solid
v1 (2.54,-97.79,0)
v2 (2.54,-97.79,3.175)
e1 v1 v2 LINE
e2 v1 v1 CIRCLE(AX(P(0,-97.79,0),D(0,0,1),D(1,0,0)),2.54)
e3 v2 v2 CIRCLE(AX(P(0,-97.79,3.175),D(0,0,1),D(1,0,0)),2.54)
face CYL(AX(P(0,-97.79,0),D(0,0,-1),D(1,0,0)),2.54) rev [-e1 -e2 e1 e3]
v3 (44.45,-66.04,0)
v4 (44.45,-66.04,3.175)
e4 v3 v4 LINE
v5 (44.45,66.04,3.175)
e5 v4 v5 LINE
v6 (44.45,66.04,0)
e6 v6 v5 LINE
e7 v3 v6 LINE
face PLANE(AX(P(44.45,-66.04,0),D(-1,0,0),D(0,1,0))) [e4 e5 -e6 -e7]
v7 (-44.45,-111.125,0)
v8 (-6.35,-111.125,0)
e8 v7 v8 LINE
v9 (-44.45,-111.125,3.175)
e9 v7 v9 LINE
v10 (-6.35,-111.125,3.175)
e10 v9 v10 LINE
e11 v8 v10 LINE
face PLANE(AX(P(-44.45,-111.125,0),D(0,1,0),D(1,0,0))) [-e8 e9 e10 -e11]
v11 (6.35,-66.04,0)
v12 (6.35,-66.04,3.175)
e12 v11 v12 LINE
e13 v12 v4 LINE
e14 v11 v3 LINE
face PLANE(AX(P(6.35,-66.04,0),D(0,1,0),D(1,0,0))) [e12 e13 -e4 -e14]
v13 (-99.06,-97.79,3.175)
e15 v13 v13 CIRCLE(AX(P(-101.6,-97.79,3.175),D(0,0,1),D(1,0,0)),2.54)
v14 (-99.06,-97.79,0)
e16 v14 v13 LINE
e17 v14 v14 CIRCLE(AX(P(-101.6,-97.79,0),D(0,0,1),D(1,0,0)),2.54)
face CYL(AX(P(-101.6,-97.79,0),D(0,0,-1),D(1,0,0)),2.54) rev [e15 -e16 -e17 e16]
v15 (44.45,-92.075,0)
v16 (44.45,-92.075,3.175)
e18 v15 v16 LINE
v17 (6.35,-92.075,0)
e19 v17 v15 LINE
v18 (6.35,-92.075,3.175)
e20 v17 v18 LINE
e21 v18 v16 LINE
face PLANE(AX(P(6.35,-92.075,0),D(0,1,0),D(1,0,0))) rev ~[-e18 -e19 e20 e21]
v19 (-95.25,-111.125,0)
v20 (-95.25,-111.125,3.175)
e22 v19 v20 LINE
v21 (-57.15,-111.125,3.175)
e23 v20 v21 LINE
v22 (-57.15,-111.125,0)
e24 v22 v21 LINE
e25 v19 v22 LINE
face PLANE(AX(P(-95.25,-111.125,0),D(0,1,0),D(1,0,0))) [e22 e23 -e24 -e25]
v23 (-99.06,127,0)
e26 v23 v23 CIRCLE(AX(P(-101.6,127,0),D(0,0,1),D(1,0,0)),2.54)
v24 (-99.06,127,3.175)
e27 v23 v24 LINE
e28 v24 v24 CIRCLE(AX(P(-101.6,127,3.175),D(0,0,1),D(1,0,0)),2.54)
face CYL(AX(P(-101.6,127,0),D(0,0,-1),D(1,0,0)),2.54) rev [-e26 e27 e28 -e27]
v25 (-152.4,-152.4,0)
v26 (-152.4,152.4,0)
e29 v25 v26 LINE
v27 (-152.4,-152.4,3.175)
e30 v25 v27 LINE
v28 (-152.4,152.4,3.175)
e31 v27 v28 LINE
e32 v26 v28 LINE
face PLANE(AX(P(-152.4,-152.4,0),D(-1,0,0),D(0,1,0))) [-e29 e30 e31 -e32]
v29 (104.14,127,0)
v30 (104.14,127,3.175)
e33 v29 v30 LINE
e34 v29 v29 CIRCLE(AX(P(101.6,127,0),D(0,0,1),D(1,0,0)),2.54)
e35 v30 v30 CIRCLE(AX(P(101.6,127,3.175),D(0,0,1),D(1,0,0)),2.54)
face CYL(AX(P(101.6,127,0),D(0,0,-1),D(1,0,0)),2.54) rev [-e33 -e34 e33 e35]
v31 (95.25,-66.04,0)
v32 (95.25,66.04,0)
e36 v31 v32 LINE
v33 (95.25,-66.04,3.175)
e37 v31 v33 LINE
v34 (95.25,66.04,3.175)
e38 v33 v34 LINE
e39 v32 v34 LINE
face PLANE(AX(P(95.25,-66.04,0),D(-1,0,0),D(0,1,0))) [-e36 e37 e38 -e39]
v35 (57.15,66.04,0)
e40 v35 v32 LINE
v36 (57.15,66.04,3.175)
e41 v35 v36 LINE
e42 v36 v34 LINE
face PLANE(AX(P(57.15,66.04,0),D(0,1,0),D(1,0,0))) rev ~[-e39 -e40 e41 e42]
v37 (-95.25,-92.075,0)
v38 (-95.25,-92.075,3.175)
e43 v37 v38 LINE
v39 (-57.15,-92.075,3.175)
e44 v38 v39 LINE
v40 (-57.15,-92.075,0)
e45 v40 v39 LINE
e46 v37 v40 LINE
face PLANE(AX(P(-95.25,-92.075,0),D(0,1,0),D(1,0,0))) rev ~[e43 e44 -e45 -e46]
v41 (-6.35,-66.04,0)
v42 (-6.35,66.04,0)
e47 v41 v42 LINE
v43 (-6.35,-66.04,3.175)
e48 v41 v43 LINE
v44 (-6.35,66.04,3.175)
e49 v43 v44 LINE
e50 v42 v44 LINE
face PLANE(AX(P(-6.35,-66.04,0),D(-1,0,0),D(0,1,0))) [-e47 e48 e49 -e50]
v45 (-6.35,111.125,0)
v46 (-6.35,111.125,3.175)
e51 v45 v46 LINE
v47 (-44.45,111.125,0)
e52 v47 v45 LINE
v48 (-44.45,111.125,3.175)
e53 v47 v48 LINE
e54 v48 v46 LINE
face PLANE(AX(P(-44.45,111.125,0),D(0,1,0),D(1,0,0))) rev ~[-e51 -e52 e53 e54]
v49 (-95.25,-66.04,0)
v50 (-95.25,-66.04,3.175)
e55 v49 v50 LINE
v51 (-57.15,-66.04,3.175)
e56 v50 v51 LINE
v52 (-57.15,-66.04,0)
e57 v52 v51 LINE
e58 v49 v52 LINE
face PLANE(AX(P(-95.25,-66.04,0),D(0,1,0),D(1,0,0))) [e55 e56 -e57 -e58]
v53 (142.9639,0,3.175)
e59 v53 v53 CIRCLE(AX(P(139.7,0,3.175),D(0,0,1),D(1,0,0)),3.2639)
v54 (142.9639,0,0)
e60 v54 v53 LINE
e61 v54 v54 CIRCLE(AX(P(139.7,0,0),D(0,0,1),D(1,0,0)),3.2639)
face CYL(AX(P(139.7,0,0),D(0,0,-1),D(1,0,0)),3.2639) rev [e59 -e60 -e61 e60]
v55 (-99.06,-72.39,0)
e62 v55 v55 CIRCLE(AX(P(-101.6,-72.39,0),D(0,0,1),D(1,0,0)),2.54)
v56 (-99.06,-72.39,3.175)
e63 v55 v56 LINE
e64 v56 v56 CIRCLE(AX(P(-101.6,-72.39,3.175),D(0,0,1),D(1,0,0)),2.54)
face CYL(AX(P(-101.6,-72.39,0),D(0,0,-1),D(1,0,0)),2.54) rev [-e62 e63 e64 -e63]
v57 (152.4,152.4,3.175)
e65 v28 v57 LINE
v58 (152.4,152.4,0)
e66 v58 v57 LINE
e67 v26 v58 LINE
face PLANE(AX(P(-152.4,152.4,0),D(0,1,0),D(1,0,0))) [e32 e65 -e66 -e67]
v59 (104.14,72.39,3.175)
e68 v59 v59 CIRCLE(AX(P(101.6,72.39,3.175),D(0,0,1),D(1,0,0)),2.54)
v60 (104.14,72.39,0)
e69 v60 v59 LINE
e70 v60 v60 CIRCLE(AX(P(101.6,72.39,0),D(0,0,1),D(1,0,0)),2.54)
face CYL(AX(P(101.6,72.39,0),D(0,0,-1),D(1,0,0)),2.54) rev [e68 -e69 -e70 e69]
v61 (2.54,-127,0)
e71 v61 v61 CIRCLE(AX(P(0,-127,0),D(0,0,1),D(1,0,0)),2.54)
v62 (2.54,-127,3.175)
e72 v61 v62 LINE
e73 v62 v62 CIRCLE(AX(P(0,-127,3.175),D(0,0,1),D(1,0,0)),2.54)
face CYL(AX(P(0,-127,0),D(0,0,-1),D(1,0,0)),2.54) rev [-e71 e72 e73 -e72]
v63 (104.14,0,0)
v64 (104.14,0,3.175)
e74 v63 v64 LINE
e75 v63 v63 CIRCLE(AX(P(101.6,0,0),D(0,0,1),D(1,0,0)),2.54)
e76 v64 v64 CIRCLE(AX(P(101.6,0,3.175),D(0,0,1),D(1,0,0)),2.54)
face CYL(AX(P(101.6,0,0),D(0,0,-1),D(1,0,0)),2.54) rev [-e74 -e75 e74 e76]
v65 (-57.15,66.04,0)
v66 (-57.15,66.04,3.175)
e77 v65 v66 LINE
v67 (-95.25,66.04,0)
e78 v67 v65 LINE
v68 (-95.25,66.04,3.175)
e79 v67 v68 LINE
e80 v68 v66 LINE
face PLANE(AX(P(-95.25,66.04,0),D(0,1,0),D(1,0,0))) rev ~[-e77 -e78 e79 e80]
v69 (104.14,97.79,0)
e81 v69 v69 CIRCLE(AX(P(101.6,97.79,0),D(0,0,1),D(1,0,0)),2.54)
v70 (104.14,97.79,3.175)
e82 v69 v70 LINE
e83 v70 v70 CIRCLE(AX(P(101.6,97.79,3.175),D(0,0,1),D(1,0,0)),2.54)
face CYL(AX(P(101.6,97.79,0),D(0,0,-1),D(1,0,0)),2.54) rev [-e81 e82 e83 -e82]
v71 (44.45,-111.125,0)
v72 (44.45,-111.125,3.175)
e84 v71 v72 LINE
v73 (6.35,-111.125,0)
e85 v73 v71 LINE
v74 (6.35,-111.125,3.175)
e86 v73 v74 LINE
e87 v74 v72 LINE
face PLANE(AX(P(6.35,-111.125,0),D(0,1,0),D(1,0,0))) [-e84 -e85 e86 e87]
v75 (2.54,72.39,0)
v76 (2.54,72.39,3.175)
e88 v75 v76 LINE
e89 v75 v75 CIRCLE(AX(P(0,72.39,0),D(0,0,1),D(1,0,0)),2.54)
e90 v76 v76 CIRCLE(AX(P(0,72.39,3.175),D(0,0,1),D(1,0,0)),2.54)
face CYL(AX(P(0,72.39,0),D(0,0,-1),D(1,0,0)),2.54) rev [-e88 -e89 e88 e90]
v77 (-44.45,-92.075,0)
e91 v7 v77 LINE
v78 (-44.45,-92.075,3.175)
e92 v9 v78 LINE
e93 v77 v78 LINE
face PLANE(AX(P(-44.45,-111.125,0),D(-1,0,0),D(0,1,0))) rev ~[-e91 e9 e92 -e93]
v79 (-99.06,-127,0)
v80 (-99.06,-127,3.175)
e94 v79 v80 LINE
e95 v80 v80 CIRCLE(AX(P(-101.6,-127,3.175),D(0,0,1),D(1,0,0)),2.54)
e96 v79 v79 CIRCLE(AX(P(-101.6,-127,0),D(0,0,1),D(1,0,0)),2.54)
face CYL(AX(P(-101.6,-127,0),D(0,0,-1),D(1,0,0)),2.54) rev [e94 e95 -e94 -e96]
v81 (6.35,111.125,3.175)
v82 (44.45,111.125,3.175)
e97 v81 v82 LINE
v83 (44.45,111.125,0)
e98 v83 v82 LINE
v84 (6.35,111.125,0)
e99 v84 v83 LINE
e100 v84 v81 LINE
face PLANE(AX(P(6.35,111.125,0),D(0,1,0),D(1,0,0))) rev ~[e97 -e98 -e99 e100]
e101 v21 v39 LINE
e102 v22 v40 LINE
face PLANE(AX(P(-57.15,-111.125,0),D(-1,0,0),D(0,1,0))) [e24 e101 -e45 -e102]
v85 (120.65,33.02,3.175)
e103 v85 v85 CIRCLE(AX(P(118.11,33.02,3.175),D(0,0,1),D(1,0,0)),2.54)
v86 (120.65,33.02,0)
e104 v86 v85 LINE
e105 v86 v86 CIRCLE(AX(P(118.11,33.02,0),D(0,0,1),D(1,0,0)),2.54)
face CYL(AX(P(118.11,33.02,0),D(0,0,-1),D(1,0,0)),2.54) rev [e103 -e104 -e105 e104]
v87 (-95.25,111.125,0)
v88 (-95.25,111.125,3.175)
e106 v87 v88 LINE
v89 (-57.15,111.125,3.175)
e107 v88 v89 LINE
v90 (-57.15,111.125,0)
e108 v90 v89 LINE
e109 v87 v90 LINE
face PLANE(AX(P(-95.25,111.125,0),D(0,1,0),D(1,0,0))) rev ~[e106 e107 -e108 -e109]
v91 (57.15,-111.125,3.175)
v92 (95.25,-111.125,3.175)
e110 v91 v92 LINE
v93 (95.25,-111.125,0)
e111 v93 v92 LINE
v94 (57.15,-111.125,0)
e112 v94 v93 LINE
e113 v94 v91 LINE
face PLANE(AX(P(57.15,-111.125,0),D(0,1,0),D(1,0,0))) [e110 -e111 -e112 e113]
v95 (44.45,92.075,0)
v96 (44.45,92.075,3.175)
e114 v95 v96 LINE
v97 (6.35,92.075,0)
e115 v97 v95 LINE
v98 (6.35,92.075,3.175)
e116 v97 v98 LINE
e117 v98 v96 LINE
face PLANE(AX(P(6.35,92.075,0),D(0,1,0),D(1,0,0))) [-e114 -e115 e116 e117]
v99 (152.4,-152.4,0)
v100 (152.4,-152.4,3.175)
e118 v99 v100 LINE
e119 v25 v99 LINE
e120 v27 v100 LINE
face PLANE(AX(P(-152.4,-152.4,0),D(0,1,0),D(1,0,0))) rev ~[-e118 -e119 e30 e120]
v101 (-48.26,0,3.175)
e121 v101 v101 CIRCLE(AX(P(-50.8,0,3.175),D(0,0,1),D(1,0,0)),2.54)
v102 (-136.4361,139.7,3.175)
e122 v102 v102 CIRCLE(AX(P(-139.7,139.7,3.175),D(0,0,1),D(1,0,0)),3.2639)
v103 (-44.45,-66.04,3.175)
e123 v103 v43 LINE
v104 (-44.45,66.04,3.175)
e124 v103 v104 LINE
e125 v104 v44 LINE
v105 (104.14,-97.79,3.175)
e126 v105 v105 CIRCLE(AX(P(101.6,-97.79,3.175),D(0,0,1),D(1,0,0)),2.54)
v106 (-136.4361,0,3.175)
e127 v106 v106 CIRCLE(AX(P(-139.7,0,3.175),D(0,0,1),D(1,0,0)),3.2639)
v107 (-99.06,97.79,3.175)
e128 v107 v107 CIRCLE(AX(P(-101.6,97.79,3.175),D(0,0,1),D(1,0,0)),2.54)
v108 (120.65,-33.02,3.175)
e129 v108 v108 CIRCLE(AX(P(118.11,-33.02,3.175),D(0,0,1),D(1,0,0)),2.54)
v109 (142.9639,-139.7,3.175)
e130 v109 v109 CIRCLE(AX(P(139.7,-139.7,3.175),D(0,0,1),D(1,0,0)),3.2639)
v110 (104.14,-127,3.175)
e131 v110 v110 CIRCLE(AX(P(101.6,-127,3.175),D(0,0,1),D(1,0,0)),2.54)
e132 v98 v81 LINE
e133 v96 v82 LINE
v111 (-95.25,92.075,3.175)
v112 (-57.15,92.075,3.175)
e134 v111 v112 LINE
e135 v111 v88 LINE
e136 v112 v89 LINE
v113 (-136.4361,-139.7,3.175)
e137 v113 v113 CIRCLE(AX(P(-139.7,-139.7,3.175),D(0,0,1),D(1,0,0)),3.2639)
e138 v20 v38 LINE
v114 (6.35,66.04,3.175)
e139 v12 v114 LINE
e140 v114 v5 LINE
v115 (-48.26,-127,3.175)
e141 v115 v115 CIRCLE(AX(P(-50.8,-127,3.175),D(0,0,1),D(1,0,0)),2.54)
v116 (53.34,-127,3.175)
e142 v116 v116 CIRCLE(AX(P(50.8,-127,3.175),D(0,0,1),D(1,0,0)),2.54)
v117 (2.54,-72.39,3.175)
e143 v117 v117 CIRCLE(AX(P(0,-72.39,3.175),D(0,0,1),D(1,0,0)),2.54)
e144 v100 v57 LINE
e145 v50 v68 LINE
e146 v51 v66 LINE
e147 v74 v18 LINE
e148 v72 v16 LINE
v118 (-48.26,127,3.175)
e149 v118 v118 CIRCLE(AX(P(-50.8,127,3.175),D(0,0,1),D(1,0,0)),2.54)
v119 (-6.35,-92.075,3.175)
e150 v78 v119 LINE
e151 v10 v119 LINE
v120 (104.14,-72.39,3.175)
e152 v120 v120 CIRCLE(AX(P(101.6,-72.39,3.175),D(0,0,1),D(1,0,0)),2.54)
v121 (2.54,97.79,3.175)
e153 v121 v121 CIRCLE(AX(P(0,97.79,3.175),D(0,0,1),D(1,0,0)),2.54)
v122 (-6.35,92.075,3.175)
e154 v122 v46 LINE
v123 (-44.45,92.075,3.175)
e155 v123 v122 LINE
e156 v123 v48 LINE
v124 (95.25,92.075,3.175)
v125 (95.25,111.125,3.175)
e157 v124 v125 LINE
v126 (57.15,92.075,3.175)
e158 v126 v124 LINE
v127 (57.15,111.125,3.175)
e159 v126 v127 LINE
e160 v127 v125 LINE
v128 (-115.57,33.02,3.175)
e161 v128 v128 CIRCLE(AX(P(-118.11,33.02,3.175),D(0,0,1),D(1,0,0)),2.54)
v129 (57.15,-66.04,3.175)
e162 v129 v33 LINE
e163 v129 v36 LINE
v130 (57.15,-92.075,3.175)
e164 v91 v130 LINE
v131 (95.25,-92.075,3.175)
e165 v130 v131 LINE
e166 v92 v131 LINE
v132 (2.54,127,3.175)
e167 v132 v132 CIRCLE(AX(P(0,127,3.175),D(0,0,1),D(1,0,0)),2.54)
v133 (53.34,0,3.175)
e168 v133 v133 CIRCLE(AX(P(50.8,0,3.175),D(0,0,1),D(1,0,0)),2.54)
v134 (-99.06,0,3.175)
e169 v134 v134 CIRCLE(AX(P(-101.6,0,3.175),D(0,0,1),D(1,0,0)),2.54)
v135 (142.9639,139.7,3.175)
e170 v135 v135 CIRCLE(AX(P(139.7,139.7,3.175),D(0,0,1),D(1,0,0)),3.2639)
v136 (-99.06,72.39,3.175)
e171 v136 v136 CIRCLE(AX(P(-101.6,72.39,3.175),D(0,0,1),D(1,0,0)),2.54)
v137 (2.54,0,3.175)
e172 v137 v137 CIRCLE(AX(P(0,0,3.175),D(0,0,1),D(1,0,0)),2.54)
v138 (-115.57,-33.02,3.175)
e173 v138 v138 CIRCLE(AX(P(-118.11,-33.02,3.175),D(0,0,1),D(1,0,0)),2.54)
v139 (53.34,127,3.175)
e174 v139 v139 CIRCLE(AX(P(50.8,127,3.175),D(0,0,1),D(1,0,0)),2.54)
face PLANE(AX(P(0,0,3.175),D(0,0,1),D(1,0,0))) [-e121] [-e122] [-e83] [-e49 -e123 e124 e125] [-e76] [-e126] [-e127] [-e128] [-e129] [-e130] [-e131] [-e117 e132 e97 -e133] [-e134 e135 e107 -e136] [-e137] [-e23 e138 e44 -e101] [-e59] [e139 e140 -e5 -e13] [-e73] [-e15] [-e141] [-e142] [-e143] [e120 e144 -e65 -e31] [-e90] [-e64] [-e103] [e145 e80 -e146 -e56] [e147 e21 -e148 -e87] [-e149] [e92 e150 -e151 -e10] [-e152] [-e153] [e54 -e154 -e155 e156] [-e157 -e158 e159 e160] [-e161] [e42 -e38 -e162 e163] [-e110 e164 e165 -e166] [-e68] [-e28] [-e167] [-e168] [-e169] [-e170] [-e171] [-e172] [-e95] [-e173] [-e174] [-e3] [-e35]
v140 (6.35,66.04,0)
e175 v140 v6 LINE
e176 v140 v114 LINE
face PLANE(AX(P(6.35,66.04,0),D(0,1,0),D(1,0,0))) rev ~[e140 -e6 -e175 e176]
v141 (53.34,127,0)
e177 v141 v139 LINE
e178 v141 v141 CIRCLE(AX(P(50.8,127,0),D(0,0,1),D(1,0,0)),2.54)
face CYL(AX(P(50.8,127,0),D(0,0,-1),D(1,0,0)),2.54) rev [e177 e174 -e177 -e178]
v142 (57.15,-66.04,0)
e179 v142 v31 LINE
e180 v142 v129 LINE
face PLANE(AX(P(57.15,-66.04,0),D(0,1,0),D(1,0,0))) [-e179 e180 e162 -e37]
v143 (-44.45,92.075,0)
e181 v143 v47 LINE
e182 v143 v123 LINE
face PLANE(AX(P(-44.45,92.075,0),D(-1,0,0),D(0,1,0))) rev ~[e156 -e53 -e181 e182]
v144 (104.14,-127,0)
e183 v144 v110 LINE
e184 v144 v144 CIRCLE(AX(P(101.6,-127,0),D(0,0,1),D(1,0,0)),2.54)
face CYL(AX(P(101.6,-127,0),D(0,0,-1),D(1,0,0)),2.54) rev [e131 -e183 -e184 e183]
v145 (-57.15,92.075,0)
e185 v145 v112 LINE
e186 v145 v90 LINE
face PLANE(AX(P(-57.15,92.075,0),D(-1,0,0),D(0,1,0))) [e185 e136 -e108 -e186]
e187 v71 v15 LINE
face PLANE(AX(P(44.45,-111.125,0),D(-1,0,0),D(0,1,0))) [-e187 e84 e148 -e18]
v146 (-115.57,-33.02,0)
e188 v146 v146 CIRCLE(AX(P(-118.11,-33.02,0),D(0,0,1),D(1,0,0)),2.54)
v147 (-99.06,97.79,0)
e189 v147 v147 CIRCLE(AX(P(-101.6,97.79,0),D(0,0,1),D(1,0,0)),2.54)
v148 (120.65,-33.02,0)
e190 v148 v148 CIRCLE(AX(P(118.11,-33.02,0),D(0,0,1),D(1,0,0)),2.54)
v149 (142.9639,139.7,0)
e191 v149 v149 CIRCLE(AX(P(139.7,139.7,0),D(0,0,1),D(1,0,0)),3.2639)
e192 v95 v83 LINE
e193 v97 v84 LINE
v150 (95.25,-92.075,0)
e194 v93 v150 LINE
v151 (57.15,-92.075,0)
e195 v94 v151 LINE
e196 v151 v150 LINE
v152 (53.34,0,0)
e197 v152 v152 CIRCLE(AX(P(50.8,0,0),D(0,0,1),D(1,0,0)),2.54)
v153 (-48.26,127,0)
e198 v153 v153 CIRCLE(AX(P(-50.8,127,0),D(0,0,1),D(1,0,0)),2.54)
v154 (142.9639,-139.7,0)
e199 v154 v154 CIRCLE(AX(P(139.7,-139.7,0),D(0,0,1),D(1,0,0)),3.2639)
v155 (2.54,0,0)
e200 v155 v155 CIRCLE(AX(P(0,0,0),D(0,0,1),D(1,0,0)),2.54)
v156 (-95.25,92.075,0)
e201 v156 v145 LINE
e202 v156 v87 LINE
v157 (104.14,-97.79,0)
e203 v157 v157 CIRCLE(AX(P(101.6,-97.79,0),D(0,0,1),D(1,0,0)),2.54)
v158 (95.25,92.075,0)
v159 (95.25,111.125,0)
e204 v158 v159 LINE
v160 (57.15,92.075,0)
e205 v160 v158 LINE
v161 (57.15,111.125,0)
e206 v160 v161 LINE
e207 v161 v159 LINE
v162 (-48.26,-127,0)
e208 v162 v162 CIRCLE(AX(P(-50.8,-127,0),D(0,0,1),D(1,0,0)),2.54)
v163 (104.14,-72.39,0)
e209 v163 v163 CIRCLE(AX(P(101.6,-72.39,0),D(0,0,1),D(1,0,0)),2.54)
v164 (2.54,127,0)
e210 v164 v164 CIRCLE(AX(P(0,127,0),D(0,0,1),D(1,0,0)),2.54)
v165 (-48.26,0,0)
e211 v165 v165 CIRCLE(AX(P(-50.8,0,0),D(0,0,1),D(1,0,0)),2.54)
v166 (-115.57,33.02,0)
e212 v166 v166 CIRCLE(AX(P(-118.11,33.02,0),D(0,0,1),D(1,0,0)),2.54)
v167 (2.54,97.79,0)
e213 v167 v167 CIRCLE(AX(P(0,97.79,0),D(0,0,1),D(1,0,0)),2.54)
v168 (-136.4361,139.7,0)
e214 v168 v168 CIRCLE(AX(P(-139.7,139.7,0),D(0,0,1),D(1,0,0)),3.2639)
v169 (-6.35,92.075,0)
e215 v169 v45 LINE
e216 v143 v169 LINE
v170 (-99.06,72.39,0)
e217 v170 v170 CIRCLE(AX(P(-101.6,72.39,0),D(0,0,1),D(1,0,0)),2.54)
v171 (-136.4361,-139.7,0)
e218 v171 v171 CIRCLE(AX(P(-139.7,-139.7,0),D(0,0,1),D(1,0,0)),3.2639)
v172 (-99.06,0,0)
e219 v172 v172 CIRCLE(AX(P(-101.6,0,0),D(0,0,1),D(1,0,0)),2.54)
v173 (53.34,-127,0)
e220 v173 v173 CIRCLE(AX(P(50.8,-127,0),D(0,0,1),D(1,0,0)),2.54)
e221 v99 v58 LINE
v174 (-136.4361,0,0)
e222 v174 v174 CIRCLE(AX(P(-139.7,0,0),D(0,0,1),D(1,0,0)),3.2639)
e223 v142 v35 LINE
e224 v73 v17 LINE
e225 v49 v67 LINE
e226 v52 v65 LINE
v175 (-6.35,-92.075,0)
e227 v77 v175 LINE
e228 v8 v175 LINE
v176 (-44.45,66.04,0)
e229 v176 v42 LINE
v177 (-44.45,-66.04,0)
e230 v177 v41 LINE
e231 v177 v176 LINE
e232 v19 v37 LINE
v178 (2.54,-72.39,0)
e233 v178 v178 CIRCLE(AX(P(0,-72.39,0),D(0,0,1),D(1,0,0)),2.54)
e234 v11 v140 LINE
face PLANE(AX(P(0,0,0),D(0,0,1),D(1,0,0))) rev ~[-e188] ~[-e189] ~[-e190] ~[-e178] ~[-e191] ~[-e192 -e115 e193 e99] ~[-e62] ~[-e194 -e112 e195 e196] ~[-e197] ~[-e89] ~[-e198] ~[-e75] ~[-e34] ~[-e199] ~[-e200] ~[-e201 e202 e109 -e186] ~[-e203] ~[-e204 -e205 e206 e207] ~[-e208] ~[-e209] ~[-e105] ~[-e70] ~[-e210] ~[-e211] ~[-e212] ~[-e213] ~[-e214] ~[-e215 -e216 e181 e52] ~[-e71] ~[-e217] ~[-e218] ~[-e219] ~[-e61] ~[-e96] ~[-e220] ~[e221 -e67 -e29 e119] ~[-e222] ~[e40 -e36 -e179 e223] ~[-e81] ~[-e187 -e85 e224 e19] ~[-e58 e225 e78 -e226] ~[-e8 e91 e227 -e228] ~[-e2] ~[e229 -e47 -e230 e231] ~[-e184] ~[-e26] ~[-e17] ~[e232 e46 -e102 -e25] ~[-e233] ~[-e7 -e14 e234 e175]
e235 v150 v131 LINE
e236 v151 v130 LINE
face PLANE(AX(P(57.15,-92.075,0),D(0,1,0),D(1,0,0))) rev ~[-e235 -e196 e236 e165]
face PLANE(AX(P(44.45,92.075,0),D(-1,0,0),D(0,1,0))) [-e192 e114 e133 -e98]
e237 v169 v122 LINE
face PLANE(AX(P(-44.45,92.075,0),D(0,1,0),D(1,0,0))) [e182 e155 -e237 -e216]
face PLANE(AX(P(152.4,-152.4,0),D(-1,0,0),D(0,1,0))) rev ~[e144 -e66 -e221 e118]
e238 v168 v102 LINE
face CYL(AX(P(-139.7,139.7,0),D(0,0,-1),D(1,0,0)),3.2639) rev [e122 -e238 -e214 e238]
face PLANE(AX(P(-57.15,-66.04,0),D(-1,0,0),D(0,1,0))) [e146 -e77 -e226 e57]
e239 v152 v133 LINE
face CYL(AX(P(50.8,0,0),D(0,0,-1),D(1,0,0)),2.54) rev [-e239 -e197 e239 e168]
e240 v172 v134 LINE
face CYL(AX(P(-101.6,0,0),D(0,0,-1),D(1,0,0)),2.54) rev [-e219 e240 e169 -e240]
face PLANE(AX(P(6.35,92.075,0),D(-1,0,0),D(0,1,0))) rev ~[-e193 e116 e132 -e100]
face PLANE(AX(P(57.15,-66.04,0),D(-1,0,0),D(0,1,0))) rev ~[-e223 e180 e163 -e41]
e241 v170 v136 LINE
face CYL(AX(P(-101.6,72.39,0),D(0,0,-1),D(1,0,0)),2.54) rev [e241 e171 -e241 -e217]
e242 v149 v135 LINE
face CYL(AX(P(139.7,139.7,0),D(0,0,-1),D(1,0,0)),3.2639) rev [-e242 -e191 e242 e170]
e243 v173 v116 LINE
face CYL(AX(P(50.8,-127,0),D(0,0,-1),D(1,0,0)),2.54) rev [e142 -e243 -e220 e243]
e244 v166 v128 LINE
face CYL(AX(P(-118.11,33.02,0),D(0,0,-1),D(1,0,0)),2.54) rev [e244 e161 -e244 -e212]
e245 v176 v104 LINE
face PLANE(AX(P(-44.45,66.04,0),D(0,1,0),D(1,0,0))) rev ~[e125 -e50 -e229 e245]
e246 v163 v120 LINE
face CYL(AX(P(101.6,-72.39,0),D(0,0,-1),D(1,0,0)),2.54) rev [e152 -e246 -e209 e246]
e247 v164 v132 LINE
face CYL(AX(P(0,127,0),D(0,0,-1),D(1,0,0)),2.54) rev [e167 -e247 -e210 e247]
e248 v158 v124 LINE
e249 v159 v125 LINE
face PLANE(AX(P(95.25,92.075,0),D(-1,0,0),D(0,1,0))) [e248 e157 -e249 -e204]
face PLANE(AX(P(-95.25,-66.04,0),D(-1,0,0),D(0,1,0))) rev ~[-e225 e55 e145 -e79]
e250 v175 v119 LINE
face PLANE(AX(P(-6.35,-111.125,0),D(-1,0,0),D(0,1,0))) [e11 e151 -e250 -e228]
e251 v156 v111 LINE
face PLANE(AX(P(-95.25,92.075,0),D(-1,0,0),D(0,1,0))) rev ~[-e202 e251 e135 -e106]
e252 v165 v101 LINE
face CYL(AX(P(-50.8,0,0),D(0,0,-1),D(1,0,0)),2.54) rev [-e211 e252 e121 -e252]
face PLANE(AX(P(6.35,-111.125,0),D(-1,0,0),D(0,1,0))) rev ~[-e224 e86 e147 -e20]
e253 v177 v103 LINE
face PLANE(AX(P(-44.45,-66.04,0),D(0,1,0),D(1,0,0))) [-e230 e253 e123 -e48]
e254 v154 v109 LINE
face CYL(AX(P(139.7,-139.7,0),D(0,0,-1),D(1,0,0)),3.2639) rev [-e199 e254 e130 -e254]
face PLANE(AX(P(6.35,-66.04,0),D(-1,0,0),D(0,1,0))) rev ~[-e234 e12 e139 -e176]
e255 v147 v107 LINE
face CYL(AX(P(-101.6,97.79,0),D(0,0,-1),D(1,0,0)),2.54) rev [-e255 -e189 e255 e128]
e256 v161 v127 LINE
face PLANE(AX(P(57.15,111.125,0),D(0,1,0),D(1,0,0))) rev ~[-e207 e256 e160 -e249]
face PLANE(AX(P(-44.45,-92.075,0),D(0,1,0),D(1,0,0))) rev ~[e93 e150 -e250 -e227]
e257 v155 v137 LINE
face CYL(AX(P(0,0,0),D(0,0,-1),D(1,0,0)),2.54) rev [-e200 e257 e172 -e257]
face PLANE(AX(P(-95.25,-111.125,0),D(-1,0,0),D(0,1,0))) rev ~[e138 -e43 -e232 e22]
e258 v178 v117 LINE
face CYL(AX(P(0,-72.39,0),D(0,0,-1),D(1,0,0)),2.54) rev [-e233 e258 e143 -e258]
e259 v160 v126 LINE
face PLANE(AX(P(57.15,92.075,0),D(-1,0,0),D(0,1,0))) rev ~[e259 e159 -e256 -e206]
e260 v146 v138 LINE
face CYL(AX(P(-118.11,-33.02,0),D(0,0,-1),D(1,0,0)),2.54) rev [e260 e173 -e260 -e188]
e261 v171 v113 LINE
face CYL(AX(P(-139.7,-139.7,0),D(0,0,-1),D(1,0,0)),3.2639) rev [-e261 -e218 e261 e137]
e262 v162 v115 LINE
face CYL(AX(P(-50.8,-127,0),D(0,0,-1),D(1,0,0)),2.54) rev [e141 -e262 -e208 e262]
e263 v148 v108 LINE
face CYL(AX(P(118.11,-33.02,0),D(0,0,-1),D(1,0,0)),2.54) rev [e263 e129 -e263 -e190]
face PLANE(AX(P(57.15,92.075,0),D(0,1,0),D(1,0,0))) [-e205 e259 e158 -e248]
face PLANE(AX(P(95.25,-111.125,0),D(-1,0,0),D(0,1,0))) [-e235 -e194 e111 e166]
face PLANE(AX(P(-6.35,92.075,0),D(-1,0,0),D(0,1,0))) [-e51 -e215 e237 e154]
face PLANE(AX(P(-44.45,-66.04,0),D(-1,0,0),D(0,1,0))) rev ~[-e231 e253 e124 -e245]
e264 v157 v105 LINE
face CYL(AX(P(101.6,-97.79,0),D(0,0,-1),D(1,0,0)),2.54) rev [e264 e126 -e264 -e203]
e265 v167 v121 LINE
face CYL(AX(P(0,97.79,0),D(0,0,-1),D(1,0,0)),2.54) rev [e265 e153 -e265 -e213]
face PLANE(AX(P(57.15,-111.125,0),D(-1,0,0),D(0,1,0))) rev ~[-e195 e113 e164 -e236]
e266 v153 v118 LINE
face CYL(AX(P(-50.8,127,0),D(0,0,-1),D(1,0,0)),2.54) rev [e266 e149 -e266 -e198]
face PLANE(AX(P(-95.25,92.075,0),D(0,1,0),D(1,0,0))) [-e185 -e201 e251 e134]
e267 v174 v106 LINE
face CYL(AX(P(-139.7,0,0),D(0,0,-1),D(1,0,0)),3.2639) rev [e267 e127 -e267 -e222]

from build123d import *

# Parameters (mm, degrees)
SKETCH1_W           = 304.8
SKETCH1_H           = 304.8
SKETCH1_R           = 2.54
SKETCH1_R_2         = 3.2639
SKETCH1_W_2         = 38.1
SKETCH1_H_2         = 132.08
SKETCH1_H_3         = 19.05
BOSS_EXTRUDE1_DEPTH = 3.175


with BuildPart() as part:
    # Sketch1 → Boss-Extrude1 (new body)
    with BuildSketch(Plane.XY):
        Rectangle(SKETCH1_W, SKETCH1_H)
        with Locations((-101.6, 0)):
            Circle(SKETCH1_R, mode=Mode.SUBTRACT)
        with Locations((-50.8, 0)):
            Circle(SKETCH1_R, mode=Mode.SUBTRACT)
        Circle(SKETCH1_R, mode=Mode.SUBTRACT)
        with Locations((101.6, 0)):
            Circle(SKETCH1_R, mode=Mode.SUBTRACT)
        with Locations((50.8, 0)):
            Circle(SKETCH1_R, mode=Mode.SUBTRACT)
        with Locations((-50.8, 127)):
            Circle(SKETCH1_R, mode=Mode.SUBTRACT)
        with Locations((0, 127)):
            Circle(SKETCH1_R, mode=Mode.SUBTRACT)
        with Locations((50.8, 127)):
            Circle(SKETCH1_R, mode=Mode.SUBTRACT)
        with Locations((-101.6, 72.39)):
            Circle(SKETCH1_R, mode=Mode.SUBTRACT)
        with Locations((0, 72.39)):
            Circle(SKETCH1_R, mode=Mode.SUBTRACT)
        with Locations((101.6, 72.39)):
            Circle(SKETCH1_R, mode=Mode.SUBTRACT)
        with Locations((-101.6, -72.39)):
            Circle(SKETCH1_R, mode=Mode.SUBTRACT)
        with Locations((0, -72.39)):
            Circle(SKETCH1_R, mode=Mode.SUBTRACT)
        with Locations((101.6, -72.39)):
            Circle(SKETCH1_R, mode=Mode.SUBTRACT)
        with Locations((50.8, -127)):
            Circle(SKETCH1_R, mode=Mode.SUBTRACT)
        with Locations((0, -127)):
            Circle(SKETCH1_R, mode=Mode.SUBTRACT)
        with Locations((-50.8, -127)):
            Circle(SKETCH1_R, mode=Mode.SUBTRACT)
        with Locations((-101.6, 97.79)):
            Circle(SKETCH1_R, mode=Mode.SUBTRACT)
        with Locations((0, 97.79)):
            Circle(SKETCH1_R, mode=Mode.SUBTRACT)
        with Locations((101.6, 97.79)):
            Circle(SKETCH1_R, mode=Mode.SUBTRACT)
        with Locations((101.6, 127)):
            Circle(SKETCH1_R, mode=Mode.SUBTRACT)
        with Locations((-101.6, 127)):
            Circle(SKETCH1_R, mode=Mode.SUBTRACT)
        with Locations((-118.11, 33.02)):
            Circle(SKETCH1_R, mode=Mode.SUBTRACT)
        with Locations((-101.6, -127)):
            Circle(SKETCH1_R, mode=Mode.SUBTRACT)
        with Locations((101.6, -127)):
            Circle(SKETCH1_R, mode=Mode.SUBTRACT)
        with Locations((101.6, -97.79)):
            Circle(SKETCH1_R, mode=Mode.SUBTRACT)
        with Locations((0, -97.79)):
            Circle(SKETCH1_R, mode=Mode.SUBTRACT)
        with Locations((-101.6, -97.79)):
            Circle(SKETCH1_R, mode=Mode.SUBTRACT)
        with Locations((-118.11, -33.02)):
            Circle(SKETCH1_R, mode=Mode.SUBTRACT)
        with Locations((-139.7, 139.7)):
            Circle(SKETCH1_R_2, mode=Mode.SUBTRACT)
        with Locations((-139.7, 0)):
            Circle(SKETCH1_R_2, mode=Mode.SUBTRACT)
        with Locations((-139.7, -139.7)):
            Circle(SKETCH1_R_2, mode=Mode.SUBTRACT)
        with Locations((139.7, -139.7)):
            Circle(SKETCH1_R_2, mode=Mode.SUBTRACT)
        with Locations((139.7, 0)):
            Circle(SKETCH1_R_2, mode=Mode.SUBTRACT)
        with Locations((139.7, 139.7)):
            Circle(SKETCH1_R_2, mode=Mode.SUBTRACT)
        with Locations((118.11, -33.02)):
            Circle(SKETCH1_R, mode=Mode.SUBTRACT)
        with Locations((118.11, 33.02)):
            Circle(SKETCH1_R, mode=Mode.SUBTRACT)
        with Locations((-76.2, 0)):
            Rectangle(SKETCH1_W_2, SKETCH1_H_2, mode=Mode.SUBTRACT)
        with Locations((-25.4, 0)):
            Rectangle(SKETCH1_W_2, SKETCH1_H_2, mode=Mode.SUBTRACT)
        with Locations((25.4, 0)):
            Rectangle(SKETCH1_W_2, SKETCH1_H_2, mode=Mode.SUBTRACT)
        with Locations((76.2, 0)):
            Rectangle(SKETCH1_W_2, SKETCH1_H_2, mode=Mode.SUBTRACT)
        with Locations((-25.4, 101.6)):
            Rectangle(SKETCH1_W_2, SKETCH1_H_3, mode=Mode.SUBTRACT)
        with Locations((-76.2, 101.6)):
            Rectangle(SKETCH1_W_2, SKETCH1_H_3, mode=Mode.SUBTRACT)
        with Locations((76.2, 101.6)):
            Rectangle(SKETCH1_W_2, SKETCH1_H_3, mode=Mode.SUBTRACT)
        with Locations((25.4, 101.6)):
            Rectangle(SKETCH1_W_2, SKETCH1_H_3, mode=Mode.SUBTRACT)
        with Locations((-76.2, -101.6)):
            Rectangle(SKETCH1_W_2, SKETCH1_H_3, mode=Mode.SUBTRACT)
        with Locations((-25.4, -101.6)):
            Rectangle(SKETCH1_W_2, SKETCH1_H_3, mode=Mode.SUBTRACT)
        with Locations((25.4, -101.6)):
            Rectangle(SKETCH1_W_2, SKETCH1_H_3, mode=Mode.SUBTRACT)
        with Locations((76.2, -101.6)):
            Rectangle(SKETCH1_W_2, SKETCH1_H_3, mode=Mode.SUBTRACT)
    extrude(amount=BOSS_EXTRUDE1_DEPTH)


solid = part.part
